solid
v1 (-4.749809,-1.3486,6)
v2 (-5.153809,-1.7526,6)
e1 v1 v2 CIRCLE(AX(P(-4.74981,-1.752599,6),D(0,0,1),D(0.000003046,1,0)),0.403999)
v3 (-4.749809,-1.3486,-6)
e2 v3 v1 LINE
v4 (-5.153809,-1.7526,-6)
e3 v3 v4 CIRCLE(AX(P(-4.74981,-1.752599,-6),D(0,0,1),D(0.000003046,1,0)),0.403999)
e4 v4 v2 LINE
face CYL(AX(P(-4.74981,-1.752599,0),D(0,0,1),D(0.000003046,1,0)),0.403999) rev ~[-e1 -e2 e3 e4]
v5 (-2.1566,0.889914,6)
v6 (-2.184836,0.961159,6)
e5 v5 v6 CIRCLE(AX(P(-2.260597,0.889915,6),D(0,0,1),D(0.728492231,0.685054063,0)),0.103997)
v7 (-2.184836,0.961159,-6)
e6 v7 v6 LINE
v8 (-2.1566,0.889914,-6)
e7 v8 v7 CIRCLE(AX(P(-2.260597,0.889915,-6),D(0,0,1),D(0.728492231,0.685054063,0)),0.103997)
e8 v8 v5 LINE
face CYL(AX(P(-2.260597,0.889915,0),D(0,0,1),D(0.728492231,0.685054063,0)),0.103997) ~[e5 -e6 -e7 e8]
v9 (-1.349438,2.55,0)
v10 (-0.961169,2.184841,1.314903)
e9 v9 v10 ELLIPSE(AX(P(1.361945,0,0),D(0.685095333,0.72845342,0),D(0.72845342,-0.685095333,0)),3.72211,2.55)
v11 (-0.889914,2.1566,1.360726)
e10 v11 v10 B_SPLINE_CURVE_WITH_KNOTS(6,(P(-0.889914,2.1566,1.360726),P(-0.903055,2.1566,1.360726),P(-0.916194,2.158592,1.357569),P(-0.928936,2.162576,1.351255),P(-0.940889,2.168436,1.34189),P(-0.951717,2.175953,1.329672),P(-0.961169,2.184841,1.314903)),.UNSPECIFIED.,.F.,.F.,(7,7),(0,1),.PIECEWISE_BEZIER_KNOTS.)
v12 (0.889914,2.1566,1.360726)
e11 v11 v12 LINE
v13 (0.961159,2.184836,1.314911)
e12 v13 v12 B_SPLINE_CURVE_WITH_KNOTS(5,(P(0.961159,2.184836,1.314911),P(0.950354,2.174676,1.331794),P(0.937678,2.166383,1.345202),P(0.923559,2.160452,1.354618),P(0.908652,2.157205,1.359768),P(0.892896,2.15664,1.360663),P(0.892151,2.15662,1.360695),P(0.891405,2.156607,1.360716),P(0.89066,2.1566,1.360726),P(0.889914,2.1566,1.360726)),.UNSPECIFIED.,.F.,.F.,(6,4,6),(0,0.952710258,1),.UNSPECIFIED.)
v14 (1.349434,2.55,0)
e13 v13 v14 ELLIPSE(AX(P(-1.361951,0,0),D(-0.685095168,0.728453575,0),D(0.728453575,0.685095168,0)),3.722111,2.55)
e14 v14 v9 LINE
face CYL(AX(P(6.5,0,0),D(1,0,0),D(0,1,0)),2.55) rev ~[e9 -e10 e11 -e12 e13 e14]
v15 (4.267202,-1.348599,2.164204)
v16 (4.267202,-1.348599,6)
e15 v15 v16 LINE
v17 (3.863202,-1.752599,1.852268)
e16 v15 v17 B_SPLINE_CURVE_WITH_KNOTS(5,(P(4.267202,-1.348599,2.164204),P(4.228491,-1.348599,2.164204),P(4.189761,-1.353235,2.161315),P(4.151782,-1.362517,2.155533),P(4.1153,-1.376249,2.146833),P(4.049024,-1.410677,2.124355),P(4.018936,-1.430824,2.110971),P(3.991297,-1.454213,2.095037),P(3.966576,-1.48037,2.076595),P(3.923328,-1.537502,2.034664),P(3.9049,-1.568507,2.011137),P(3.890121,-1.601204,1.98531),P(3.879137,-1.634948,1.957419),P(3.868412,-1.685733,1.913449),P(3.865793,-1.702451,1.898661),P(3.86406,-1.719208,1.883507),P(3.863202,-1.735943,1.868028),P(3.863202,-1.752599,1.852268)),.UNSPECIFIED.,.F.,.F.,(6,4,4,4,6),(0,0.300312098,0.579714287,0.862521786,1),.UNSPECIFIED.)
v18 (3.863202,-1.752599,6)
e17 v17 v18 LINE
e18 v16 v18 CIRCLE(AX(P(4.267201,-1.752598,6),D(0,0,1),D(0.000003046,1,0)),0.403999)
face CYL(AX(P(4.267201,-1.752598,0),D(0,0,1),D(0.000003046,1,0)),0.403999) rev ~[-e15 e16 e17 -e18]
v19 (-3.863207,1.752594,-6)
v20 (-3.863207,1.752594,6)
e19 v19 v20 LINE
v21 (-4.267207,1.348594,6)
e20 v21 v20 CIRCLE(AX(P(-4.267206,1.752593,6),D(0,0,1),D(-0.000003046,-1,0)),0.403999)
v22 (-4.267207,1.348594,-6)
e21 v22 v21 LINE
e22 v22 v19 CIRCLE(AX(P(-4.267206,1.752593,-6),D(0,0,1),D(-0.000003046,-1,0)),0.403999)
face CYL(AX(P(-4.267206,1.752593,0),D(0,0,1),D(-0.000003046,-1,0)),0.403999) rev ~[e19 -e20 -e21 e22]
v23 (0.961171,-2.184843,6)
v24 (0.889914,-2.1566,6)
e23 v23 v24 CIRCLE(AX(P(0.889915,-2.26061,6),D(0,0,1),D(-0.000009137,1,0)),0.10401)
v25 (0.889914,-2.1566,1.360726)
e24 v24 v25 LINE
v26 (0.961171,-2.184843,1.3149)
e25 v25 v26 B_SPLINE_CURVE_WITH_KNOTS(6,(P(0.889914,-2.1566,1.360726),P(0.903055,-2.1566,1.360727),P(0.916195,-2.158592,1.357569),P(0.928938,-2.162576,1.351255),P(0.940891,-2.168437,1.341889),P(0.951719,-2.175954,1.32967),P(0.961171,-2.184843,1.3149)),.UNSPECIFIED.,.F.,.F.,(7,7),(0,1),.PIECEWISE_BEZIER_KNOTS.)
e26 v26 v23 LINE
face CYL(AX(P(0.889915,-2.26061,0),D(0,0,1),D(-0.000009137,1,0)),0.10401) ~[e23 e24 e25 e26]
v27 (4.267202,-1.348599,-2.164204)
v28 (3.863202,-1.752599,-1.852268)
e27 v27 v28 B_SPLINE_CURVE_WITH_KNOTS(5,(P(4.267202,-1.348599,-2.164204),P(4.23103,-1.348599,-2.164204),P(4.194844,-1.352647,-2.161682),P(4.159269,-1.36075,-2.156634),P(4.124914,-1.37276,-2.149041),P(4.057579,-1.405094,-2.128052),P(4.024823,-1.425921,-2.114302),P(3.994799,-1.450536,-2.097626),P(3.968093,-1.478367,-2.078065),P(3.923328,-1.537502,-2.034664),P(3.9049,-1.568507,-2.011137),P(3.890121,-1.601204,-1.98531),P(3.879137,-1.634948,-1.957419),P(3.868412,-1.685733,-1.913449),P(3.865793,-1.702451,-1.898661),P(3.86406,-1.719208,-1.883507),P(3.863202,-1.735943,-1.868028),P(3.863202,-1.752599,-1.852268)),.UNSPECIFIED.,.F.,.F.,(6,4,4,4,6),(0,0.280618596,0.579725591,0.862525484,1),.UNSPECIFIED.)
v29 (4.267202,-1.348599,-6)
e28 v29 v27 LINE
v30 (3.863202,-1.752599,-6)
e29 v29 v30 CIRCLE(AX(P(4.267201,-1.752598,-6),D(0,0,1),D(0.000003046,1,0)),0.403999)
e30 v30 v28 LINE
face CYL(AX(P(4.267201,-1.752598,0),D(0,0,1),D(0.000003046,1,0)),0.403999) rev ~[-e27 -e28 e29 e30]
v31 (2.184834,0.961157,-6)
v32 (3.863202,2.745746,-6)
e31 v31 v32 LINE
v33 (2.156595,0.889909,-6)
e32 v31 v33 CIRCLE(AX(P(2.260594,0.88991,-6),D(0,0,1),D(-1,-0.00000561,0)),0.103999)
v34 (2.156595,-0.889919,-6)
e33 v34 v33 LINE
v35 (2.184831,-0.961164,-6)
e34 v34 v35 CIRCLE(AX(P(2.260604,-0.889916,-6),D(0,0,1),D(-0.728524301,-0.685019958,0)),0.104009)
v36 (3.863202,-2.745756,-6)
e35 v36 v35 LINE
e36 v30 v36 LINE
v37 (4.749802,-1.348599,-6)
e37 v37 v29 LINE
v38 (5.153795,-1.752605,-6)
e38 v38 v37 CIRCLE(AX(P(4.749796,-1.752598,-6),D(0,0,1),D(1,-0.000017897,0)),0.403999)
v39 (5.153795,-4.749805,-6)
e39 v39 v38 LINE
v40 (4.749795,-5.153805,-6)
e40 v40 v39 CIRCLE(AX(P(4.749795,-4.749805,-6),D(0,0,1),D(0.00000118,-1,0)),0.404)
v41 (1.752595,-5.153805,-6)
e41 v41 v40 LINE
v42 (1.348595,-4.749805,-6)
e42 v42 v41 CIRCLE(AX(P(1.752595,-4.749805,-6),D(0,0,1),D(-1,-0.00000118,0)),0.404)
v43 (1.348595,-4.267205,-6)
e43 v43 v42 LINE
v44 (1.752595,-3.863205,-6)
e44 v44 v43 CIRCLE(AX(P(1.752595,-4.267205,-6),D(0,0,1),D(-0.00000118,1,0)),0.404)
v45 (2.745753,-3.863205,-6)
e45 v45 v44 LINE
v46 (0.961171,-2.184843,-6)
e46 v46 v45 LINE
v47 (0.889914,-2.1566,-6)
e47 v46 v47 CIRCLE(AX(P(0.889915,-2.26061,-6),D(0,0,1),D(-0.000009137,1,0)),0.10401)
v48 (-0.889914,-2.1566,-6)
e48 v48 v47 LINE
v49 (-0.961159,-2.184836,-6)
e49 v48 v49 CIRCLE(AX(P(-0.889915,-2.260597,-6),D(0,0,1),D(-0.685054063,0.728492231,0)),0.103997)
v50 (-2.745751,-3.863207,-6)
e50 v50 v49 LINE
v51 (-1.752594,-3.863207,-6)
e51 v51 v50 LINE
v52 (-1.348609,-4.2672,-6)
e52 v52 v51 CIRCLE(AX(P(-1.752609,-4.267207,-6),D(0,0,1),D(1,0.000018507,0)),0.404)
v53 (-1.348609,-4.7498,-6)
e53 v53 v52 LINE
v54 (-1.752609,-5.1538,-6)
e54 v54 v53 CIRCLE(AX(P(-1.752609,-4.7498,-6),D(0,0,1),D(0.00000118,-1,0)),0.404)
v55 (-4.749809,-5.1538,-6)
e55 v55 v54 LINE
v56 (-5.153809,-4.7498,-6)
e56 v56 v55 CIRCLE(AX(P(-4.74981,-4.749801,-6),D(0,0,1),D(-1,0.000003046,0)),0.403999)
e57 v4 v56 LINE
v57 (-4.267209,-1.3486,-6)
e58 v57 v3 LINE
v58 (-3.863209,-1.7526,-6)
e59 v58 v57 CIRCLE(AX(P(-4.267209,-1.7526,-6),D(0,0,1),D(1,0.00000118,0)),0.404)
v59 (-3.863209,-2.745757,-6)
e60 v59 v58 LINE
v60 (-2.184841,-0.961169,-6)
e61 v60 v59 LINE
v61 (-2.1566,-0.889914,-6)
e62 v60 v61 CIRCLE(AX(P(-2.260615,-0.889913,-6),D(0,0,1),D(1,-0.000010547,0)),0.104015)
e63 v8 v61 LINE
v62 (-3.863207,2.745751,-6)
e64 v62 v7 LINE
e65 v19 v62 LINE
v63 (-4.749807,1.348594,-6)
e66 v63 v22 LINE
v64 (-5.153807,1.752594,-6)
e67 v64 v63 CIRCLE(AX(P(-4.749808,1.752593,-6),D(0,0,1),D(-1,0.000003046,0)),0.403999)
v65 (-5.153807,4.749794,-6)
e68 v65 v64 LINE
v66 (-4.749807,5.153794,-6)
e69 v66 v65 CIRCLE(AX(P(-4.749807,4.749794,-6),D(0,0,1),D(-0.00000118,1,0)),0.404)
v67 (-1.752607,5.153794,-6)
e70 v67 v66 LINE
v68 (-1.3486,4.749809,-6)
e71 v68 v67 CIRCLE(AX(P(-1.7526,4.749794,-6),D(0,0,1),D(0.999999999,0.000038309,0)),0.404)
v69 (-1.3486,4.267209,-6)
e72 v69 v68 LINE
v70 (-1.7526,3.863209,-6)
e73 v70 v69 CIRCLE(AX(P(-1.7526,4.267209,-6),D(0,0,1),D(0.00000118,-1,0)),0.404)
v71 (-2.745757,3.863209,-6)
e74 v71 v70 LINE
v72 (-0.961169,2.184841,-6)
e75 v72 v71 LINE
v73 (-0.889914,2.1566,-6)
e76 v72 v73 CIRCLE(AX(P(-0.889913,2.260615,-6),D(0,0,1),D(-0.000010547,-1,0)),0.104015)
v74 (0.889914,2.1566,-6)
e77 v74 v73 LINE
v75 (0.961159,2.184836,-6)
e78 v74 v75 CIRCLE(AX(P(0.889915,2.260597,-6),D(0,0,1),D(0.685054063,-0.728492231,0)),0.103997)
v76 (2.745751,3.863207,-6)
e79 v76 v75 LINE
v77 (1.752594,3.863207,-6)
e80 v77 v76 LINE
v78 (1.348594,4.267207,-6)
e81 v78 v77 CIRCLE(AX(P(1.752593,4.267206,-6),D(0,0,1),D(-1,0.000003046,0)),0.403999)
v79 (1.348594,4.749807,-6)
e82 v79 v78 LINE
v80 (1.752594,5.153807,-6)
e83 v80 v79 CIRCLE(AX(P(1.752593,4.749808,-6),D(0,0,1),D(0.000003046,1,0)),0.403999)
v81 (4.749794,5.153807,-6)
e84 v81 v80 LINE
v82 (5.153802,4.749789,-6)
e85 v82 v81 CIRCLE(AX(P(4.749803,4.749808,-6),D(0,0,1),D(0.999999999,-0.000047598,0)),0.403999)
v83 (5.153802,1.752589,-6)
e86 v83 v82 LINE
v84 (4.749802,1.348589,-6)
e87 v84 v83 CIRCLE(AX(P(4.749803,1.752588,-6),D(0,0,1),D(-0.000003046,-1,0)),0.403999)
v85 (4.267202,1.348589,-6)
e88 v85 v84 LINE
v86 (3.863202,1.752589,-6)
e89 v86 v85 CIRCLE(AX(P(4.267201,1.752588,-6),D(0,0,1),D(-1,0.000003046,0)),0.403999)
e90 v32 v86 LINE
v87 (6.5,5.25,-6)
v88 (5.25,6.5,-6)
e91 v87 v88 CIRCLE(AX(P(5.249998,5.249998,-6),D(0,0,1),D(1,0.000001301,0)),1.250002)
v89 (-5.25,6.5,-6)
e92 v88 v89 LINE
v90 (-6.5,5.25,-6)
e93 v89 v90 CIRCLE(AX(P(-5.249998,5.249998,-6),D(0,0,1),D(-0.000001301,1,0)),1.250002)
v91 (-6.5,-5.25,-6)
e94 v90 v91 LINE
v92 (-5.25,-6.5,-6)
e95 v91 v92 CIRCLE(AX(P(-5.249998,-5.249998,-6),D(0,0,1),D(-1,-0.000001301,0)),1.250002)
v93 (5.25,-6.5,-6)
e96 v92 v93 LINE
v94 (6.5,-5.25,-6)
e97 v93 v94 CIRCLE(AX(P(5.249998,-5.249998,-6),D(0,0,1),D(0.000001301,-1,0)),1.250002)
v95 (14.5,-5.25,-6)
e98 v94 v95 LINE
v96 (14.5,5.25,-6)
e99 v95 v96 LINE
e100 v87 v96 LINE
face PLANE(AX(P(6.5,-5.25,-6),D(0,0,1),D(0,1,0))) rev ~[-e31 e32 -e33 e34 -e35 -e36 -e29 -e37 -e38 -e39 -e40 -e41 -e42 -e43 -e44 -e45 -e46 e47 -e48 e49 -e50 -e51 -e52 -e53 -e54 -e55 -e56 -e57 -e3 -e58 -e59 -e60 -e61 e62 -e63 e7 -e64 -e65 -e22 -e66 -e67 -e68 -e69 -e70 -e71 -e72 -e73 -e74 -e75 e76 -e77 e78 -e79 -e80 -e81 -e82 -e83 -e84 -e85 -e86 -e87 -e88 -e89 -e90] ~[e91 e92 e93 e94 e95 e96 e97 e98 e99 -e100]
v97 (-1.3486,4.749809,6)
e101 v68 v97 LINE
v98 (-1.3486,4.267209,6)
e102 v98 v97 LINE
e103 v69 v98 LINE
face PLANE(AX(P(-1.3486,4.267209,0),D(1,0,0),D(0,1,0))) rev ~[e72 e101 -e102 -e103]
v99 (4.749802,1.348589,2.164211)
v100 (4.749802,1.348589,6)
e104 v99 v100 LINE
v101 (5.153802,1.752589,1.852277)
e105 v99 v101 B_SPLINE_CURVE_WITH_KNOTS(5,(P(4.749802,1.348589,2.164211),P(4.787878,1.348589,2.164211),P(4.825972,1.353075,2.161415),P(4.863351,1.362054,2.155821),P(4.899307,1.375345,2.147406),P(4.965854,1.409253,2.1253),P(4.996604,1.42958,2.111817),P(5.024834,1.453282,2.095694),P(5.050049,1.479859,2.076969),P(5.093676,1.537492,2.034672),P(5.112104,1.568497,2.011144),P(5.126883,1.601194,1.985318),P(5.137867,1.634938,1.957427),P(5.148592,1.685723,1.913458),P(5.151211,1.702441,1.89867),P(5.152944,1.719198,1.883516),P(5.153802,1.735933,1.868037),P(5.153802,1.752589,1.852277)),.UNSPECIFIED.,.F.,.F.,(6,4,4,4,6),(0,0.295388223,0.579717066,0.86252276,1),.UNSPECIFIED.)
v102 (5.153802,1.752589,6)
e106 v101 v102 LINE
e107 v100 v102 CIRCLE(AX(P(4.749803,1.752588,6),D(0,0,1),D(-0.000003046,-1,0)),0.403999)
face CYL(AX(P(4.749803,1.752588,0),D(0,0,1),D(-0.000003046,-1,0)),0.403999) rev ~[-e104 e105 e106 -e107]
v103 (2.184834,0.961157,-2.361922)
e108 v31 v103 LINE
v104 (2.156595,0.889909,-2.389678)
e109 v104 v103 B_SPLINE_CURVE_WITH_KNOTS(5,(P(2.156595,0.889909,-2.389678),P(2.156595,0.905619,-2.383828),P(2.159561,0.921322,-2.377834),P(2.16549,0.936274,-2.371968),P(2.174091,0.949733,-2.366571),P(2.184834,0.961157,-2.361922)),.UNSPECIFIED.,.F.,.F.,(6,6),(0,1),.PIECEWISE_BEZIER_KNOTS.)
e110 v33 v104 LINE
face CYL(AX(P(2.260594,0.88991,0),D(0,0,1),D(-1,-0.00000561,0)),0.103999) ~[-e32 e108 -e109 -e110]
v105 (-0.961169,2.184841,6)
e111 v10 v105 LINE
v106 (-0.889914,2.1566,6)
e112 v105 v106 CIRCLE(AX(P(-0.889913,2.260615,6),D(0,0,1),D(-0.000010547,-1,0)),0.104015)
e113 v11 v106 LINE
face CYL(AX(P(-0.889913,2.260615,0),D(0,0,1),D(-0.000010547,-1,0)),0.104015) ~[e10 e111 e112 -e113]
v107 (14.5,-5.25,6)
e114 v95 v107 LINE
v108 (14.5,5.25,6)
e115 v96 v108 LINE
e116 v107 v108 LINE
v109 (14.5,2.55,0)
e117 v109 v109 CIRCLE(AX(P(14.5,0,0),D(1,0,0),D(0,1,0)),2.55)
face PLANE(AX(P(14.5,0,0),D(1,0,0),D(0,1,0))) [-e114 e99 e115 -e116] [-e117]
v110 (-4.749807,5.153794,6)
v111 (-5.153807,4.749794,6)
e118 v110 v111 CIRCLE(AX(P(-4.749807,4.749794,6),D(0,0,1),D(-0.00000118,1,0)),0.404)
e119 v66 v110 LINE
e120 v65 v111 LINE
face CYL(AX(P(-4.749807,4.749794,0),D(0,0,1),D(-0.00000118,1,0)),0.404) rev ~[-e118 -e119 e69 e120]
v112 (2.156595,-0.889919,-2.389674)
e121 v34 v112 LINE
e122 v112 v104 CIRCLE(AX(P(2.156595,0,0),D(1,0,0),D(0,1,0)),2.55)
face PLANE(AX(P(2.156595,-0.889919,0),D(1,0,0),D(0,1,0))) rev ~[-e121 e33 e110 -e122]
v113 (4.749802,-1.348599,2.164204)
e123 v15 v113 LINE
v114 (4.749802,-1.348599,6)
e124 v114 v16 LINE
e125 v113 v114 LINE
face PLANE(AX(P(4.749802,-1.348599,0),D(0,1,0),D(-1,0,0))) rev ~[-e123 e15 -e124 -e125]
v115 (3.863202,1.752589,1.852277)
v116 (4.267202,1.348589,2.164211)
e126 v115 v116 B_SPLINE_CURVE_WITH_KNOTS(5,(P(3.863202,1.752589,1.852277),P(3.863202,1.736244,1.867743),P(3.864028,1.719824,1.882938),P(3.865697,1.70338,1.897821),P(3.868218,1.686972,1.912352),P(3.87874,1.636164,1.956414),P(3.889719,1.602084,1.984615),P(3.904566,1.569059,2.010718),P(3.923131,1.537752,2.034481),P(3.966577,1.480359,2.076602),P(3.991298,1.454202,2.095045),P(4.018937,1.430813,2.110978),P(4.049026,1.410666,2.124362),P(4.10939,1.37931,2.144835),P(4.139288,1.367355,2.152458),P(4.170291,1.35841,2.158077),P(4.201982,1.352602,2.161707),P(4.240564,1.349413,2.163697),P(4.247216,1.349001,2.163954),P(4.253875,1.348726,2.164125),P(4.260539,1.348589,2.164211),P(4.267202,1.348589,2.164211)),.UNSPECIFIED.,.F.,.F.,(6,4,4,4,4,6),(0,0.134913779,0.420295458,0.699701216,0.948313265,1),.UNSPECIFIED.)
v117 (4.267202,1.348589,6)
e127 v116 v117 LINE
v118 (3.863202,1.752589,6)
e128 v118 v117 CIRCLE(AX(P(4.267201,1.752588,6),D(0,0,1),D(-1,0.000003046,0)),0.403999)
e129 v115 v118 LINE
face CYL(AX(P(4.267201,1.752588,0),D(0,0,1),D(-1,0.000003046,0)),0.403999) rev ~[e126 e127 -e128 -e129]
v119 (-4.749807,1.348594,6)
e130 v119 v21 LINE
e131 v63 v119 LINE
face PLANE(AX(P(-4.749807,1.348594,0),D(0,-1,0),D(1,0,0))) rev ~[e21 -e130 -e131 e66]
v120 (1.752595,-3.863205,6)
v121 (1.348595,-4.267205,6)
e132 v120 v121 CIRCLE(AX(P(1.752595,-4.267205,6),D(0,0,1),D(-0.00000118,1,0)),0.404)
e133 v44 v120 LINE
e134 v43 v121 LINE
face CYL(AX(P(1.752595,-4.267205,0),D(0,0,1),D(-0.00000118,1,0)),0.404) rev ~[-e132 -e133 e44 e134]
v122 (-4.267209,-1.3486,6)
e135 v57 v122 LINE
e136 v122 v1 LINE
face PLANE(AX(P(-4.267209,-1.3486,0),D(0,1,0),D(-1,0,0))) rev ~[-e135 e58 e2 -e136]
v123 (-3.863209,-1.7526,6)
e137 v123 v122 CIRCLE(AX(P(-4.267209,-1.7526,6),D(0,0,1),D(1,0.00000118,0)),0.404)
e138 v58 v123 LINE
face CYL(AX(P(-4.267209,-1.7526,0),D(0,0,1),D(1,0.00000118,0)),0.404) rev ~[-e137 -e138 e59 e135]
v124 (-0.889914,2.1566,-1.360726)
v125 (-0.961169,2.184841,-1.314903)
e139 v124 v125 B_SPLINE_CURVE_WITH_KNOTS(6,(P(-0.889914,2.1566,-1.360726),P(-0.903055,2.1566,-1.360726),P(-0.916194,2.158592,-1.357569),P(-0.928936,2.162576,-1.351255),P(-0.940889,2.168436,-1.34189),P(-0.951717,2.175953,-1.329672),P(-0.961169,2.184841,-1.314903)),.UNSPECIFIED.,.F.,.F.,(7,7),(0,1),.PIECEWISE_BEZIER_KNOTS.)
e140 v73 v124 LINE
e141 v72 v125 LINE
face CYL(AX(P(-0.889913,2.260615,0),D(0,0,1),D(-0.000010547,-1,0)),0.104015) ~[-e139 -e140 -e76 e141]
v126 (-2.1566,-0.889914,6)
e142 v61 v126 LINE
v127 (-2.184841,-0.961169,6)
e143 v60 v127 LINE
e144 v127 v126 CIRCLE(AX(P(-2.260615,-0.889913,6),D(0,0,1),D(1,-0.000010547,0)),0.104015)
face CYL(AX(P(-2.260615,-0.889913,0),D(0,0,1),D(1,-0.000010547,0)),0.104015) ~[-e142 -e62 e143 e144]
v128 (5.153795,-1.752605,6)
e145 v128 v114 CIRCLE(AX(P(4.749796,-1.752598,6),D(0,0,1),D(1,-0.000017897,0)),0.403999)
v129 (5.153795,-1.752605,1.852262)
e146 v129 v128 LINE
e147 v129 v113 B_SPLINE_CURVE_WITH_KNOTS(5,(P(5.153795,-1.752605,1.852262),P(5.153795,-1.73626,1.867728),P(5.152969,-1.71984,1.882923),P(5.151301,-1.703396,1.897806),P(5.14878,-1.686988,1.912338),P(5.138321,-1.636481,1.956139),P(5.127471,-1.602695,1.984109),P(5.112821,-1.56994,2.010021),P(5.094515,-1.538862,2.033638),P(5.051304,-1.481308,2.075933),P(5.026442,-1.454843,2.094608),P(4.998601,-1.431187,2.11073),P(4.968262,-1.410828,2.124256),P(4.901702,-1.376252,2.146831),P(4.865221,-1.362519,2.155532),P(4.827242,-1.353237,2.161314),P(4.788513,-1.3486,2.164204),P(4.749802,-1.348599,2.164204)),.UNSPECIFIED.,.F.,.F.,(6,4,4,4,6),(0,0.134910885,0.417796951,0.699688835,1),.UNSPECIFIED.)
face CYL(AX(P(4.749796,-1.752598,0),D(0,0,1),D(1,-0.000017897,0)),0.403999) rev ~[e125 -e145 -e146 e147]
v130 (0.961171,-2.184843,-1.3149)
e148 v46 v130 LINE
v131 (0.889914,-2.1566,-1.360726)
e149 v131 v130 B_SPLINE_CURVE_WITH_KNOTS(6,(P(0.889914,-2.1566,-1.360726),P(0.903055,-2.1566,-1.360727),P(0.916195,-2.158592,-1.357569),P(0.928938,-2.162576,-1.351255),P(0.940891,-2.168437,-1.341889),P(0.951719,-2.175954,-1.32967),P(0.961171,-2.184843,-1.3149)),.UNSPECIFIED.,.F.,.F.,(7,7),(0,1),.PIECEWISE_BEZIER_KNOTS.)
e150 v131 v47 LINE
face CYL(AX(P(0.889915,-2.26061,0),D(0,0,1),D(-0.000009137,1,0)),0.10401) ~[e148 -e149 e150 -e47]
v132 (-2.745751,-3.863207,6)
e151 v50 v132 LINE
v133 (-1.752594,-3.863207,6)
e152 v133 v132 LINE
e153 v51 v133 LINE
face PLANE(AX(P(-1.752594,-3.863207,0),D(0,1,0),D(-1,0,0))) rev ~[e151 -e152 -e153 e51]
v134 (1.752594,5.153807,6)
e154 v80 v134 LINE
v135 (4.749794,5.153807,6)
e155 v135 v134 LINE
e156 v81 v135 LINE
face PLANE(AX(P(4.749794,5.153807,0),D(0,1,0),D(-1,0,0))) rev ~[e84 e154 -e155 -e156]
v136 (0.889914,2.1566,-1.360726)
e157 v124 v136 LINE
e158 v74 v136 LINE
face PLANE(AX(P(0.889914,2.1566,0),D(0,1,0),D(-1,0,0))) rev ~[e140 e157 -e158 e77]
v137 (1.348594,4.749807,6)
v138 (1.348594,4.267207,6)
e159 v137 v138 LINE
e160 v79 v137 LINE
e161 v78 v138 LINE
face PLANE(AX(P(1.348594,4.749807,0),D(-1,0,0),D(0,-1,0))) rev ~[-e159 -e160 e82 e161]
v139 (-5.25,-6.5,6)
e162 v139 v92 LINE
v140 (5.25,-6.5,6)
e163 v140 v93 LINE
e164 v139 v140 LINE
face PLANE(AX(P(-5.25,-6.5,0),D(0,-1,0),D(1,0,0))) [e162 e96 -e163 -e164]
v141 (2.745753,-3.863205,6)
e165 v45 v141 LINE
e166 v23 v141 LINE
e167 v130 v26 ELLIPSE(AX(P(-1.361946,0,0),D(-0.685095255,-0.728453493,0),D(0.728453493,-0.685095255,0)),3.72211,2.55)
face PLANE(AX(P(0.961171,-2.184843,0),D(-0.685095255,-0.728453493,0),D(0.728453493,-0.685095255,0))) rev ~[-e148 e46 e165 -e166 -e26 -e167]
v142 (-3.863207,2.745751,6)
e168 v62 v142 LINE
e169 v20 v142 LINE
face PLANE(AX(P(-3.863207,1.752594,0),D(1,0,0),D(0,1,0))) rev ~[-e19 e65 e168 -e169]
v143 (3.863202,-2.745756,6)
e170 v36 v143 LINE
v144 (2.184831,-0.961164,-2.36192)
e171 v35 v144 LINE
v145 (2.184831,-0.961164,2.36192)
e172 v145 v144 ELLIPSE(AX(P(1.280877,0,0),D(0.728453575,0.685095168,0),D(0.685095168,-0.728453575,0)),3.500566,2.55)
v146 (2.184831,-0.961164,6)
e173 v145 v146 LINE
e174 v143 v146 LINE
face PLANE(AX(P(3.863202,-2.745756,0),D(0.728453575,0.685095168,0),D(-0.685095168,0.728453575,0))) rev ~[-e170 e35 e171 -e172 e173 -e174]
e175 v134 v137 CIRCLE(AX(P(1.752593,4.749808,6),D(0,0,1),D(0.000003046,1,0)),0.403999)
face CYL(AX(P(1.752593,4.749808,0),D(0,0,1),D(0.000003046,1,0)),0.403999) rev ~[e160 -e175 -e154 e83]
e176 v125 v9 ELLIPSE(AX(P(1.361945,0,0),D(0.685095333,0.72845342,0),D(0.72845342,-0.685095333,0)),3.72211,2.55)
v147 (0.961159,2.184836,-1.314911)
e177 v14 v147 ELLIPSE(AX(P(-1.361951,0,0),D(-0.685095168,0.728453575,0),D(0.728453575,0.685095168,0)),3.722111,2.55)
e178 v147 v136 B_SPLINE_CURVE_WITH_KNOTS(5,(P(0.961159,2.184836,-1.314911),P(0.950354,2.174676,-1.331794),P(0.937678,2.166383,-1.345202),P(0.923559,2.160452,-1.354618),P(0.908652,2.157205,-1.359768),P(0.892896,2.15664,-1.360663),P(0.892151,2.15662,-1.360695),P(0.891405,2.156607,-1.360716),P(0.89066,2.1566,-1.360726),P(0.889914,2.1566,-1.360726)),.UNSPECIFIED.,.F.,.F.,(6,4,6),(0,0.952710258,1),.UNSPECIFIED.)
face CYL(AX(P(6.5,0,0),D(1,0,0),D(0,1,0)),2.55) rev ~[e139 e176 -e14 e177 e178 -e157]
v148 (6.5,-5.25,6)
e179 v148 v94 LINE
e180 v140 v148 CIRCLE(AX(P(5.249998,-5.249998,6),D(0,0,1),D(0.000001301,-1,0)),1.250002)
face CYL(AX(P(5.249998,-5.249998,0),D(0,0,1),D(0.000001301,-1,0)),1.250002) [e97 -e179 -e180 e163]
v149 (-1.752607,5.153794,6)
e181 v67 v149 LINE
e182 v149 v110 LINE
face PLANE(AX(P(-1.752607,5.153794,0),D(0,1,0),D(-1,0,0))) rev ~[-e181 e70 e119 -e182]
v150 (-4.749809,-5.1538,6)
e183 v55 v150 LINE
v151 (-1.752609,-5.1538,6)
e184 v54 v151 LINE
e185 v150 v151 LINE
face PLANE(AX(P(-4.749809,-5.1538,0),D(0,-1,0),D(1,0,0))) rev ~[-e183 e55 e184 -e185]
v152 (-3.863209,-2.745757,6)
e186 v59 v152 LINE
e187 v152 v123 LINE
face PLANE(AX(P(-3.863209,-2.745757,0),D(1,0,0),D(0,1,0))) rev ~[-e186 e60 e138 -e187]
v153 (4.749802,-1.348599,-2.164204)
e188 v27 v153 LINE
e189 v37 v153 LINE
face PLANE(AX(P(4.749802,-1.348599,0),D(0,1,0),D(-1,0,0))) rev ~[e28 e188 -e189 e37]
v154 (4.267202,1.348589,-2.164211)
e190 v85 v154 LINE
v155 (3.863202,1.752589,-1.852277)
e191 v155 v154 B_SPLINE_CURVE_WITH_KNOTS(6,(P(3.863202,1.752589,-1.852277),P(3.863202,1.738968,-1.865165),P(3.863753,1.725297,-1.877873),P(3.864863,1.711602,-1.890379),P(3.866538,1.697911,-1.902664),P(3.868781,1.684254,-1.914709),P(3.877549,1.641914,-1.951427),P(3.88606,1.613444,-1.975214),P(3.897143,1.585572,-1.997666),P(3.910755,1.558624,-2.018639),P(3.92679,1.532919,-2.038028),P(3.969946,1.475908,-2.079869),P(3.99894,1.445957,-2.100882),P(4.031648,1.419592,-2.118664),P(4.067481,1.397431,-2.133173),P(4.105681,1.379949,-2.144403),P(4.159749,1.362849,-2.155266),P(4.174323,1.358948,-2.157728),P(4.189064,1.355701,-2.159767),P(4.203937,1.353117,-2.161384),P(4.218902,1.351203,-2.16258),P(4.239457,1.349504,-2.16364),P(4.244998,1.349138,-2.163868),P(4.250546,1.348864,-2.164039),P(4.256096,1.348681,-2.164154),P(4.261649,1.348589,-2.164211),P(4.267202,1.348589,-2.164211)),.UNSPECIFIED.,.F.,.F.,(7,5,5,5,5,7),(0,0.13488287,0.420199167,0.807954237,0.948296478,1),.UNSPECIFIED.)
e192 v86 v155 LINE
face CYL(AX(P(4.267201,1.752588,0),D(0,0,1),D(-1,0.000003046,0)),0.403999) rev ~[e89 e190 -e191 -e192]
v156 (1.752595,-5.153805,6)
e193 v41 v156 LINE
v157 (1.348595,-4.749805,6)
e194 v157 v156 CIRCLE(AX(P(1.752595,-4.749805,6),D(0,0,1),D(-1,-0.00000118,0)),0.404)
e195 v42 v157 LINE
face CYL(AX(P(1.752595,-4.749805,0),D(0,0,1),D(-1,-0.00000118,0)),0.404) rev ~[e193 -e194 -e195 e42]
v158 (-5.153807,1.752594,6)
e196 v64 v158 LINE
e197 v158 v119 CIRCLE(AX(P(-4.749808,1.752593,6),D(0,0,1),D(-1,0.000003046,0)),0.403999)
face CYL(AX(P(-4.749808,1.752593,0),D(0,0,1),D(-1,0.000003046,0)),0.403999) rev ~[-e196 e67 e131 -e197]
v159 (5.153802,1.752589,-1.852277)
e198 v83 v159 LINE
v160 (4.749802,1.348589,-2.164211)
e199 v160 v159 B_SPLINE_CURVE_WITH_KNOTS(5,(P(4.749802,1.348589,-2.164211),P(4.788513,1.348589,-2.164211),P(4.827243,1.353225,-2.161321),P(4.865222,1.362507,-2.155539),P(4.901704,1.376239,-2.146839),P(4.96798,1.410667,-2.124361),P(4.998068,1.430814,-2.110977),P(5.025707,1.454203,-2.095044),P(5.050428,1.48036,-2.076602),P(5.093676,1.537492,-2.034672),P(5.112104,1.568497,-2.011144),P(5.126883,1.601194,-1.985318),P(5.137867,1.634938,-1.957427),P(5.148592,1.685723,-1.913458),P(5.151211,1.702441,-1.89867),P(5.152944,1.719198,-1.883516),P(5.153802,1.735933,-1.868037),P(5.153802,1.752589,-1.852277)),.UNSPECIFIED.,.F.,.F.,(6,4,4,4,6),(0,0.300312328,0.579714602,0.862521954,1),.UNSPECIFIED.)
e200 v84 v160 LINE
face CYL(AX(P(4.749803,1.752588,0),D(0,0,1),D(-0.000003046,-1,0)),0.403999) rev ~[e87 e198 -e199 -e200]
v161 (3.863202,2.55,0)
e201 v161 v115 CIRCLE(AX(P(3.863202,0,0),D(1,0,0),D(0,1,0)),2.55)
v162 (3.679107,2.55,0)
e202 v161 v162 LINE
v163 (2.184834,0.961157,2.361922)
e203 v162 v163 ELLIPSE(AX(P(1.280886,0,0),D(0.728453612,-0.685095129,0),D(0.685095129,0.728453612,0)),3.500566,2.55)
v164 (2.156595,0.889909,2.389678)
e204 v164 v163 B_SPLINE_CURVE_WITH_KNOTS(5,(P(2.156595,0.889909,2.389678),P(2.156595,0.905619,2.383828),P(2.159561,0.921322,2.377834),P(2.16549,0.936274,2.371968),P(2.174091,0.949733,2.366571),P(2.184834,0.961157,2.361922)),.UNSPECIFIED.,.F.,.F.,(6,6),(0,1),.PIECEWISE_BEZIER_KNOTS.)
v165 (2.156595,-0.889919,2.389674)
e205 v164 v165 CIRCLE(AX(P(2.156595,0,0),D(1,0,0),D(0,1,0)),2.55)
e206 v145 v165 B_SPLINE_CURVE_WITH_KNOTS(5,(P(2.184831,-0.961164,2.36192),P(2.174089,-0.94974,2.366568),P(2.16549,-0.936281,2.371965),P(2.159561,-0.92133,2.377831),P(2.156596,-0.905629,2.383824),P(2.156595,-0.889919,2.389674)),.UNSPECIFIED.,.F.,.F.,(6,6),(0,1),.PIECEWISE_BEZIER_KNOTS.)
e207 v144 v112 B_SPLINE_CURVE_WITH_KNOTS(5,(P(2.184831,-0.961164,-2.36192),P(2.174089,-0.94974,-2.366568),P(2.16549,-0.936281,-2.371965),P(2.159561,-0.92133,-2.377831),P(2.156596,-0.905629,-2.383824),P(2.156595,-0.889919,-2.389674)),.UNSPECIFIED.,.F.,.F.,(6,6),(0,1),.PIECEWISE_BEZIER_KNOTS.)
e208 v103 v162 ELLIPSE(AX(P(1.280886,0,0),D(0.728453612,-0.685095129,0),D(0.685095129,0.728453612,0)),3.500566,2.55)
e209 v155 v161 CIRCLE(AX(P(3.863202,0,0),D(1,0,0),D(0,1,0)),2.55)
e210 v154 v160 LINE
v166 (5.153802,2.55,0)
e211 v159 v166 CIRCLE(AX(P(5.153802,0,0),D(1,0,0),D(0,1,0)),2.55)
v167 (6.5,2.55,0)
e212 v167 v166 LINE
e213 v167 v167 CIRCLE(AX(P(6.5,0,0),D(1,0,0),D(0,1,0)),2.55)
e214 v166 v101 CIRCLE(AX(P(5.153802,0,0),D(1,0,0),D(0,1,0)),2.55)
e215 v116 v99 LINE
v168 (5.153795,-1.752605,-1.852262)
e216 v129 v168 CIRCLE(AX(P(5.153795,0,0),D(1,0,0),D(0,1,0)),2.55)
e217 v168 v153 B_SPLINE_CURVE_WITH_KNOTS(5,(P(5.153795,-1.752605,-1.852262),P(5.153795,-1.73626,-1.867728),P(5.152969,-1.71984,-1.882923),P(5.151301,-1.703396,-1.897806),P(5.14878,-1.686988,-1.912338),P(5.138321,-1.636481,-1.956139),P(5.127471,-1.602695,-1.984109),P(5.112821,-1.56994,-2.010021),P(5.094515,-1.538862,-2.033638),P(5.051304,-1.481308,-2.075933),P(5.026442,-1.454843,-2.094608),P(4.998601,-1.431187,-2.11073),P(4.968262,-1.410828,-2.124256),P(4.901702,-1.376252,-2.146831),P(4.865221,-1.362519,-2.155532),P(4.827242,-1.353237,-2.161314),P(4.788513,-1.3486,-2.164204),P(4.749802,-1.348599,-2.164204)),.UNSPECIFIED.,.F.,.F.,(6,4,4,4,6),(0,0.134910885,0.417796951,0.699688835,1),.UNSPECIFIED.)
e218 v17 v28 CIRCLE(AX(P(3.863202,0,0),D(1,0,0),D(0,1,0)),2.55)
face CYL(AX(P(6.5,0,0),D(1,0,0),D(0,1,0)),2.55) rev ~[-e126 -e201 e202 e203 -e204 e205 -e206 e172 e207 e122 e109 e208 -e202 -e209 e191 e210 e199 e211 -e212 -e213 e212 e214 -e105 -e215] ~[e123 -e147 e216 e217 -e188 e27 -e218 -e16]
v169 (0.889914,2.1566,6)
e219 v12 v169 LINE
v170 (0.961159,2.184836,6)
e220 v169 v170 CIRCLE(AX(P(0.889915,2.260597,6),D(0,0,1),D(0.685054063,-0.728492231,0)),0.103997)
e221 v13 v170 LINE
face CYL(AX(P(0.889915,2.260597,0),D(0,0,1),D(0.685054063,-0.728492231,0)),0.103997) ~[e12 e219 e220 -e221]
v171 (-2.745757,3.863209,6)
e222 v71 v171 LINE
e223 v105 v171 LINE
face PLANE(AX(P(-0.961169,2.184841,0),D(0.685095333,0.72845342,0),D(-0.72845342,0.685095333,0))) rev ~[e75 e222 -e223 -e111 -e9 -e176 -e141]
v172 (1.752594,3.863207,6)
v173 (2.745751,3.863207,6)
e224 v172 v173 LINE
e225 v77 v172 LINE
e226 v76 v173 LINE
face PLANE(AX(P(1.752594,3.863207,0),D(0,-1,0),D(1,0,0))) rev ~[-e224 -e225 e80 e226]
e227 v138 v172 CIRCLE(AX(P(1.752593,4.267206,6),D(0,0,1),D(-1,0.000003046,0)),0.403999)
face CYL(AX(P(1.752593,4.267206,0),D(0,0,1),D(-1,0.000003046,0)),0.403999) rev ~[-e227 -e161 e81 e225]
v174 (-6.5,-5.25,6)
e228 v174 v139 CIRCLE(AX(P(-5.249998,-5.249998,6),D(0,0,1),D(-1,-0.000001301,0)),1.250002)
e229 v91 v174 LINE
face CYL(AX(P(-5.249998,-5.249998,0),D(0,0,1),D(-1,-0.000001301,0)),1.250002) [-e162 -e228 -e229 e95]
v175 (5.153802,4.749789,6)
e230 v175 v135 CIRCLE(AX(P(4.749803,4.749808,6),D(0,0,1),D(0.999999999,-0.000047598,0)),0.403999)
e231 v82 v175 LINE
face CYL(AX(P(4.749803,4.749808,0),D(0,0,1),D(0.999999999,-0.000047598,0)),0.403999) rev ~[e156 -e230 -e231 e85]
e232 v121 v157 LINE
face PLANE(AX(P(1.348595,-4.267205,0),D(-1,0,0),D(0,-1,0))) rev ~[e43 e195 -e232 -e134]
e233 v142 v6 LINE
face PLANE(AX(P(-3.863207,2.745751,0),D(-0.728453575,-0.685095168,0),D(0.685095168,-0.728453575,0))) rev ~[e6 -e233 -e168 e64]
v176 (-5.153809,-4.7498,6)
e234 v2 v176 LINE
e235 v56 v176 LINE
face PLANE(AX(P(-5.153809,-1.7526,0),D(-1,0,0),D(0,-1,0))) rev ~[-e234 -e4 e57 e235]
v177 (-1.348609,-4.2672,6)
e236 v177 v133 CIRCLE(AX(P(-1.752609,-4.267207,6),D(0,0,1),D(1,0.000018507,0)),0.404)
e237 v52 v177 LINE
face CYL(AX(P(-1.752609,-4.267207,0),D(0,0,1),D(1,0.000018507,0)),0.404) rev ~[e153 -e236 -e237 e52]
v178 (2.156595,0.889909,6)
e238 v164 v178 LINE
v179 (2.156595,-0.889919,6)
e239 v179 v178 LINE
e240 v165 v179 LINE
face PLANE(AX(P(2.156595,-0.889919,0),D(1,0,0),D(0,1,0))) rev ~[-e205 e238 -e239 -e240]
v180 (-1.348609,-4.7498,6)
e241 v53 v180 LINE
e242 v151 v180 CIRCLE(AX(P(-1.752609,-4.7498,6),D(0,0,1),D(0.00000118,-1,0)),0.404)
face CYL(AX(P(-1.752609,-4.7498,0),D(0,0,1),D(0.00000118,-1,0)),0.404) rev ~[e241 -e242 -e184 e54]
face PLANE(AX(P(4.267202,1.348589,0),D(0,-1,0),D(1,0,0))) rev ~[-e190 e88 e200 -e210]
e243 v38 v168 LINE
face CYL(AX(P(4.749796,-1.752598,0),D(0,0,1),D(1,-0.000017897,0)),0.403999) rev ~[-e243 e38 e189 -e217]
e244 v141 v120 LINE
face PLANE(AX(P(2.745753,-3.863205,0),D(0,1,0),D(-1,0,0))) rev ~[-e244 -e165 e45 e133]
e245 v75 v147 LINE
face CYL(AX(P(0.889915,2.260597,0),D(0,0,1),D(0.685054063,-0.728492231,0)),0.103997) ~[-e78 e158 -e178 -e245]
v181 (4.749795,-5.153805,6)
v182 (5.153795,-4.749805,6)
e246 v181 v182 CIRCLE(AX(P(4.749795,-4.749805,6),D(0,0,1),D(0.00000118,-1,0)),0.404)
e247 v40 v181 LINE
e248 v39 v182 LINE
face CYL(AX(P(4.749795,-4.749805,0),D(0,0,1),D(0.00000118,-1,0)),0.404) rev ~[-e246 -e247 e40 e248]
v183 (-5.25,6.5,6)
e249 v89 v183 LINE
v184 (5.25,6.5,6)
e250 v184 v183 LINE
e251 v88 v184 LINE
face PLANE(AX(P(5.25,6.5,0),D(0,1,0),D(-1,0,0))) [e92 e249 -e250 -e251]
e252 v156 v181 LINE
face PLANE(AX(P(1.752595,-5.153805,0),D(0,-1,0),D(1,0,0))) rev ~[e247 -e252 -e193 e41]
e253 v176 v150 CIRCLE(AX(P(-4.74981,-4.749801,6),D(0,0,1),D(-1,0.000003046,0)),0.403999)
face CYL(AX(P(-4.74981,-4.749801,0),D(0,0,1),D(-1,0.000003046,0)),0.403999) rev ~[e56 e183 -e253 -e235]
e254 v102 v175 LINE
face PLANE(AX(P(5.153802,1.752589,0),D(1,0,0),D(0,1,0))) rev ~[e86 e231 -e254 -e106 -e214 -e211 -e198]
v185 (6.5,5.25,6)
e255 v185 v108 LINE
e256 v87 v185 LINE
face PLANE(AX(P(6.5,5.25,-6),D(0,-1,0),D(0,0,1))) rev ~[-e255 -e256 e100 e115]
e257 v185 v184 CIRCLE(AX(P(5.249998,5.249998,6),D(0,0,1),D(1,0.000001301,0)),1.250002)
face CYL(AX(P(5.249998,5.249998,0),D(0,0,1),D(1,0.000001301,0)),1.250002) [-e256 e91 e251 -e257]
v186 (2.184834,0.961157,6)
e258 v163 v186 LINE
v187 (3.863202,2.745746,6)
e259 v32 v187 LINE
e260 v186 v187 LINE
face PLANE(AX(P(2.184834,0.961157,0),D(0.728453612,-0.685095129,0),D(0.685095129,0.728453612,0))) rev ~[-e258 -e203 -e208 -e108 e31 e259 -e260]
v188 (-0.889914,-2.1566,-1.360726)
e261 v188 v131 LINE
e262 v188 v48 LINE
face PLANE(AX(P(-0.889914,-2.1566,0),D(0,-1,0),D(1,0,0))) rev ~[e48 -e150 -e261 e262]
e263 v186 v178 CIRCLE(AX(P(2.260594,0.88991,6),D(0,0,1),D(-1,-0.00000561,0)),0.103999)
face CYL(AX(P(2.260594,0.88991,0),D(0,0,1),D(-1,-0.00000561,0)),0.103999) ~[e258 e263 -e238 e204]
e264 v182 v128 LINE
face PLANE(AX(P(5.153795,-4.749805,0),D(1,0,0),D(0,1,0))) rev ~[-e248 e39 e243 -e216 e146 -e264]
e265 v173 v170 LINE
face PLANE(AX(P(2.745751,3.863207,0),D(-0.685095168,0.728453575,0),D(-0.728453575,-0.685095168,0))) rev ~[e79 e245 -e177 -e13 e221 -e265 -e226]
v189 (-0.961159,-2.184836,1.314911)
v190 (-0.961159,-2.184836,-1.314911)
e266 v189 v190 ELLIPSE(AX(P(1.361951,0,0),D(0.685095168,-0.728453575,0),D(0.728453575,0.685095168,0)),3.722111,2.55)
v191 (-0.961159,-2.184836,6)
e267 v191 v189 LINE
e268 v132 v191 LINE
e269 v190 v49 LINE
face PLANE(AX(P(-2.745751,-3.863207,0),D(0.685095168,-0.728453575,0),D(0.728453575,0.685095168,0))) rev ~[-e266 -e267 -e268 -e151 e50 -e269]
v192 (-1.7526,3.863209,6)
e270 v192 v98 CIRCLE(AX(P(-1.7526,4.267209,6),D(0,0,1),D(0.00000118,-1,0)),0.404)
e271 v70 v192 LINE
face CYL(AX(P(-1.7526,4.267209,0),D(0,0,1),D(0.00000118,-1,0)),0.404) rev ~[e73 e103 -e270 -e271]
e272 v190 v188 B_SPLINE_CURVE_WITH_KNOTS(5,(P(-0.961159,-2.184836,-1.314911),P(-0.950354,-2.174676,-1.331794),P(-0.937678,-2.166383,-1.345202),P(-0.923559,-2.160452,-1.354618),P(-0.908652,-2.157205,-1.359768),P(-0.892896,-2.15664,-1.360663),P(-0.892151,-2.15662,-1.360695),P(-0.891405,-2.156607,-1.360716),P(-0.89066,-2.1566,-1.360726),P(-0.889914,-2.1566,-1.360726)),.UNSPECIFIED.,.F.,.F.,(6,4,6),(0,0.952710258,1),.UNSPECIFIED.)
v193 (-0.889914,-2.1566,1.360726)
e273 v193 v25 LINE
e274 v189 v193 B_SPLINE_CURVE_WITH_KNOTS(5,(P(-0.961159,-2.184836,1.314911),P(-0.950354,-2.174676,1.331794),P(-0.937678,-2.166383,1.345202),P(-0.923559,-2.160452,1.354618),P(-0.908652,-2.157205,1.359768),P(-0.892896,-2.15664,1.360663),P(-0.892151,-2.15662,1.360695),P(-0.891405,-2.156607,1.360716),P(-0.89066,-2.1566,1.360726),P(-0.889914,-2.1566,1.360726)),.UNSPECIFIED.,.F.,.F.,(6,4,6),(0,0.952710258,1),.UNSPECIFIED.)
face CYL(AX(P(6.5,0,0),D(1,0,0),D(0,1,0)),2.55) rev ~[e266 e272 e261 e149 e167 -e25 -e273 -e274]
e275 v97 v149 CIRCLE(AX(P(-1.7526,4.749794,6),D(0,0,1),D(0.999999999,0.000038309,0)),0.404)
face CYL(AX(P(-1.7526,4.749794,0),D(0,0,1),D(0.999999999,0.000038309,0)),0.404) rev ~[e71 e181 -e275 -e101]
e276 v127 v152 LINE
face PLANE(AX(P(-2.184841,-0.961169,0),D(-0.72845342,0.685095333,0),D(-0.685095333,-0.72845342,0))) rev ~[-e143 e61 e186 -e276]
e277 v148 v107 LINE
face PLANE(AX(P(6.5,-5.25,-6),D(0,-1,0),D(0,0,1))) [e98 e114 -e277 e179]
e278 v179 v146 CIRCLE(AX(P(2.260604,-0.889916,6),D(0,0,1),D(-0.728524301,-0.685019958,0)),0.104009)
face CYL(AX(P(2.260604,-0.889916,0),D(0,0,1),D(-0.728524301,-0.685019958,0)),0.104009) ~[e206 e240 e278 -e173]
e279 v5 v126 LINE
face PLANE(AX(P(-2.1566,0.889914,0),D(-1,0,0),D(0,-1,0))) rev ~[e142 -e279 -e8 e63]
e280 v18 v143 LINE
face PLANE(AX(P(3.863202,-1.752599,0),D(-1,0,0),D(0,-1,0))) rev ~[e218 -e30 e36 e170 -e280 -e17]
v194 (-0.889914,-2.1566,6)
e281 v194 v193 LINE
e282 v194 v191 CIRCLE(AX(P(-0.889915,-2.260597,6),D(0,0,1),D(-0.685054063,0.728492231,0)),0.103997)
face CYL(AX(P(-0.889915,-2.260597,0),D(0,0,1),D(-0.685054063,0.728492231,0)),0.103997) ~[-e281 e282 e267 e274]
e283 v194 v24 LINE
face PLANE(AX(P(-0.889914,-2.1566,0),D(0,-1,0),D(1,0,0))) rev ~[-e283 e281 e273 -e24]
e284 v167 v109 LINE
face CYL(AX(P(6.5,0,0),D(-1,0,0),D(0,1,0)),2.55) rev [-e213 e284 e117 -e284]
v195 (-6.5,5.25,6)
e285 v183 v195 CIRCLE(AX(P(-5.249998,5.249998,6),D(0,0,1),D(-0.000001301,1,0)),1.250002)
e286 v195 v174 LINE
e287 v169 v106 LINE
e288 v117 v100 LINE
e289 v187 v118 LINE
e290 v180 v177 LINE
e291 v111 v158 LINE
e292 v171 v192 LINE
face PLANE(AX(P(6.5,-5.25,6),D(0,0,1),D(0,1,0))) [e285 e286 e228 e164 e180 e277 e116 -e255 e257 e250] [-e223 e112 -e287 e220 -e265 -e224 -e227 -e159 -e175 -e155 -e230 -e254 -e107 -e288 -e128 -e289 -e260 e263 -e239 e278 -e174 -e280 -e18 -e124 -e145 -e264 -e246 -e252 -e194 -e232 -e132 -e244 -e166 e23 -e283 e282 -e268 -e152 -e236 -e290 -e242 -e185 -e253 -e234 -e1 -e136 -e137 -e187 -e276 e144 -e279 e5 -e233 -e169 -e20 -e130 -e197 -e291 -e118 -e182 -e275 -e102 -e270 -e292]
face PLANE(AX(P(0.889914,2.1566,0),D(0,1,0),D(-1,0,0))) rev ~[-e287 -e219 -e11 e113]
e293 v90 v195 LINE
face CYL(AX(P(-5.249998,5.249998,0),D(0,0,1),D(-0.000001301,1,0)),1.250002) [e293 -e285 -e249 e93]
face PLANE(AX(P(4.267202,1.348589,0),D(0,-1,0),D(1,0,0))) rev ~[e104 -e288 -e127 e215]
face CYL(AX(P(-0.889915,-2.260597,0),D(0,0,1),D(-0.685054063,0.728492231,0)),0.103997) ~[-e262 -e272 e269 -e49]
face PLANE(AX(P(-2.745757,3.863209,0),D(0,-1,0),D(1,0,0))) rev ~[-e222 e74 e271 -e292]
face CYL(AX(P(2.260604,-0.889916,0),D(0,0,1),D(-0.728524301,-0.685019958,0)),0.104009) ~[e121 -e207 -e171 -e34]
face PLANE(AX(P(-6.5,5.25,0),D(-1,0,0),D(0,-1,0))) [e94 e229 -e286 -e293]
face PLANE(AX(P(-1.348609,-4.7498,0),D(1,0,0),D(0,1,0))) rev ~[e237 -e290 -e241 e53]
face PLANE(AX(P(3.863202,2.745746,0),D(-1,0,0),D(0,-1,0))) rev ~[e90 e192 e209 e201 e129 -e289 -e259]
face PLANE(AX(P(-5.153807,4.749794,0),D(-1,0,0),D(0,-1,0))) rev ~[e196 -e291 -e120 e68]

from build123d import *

# Parameters (mm, degrees)
F1_DEPTH  = 6
F3_DEPTH  = 10
F4_W      = 10.5
F4_H      = 12
F4_R      = 2.55
F5_DEPTH  = 8
F1_FACE_R = 2.55
F6_DEPTH  = 8.6566


with BuildPart() as f1:
    # F0 (on Top) → F1 (new body, symmetric)
    with BuildSketch(Plane.XY):
        with BuildLine():
            Line((6.5, -5.25), (6.5, 5.25))
            ThreePointArc((6.5, 5.25), (6.133883, 6.133883), (5.25, 6.5))
            Line((5.25, 6.5), (-5.25, 6.5))
            ThreePointArc((-5.25, 6.5), (-6.133883, 6.133883), (-6.5, 5.25))
            Line((-6.5, 5.25), (-6.5, -5.25))
            ThreePointArc((-6.5, -5.25), (-6.133883, -6.133883), (-5.25, -6.5))
            Line((-5.25, -6.5), (5.25, -6.5))
            ThreePointArc((5.25, -6.5), (6.133883, -6.133883), (6.5, -5.25))
        make_face()
    extrude(amount=F1_DEPTH, both=True)

    # F2 (on Top) → F3 (cut, symmetric)
    with BuildSketch(Plane.XY):
        with BuildLine():
            ThreePointArc((0.889914, -2.1566), (0.928239, -2.163918), (0.961171, -2.184843))
            Line((0.961171, -2.184843), (2.745753, -3.863205))
            Line((2.745753, -3.863205), (1.752595, -3.863205))
            ThreePointArc((1.752595, -3.863205), (1.466924, -3.981534), (1.348595, -4.267205))
            Line((1.348595, -4.267205), (1.348595, -4.749805))
            ThreePointArc((1.348595, -4.749805), (1.466924, -5.035476), (1.752595, -5.153805))
            Line((1.752595, -5.153805), (4.749795, -5.153805))
            ThreePointArc((4.749795, -5.153805), (5.035466, -5.035476), (5.153795, -4.749805))
            Line((5.153795, -4.749805), (5.153795, -1.752605))
            ThreePointArc((5.153795, -1.752605), (5.035471, -1.466932), (4.749802, -1.348599))
            Line((4.749802, -1.348599), (4.267202, -1.348599))
            ThreePointArc((4.267202, -1.348599), (3.981531, -1.466927), (3.863202, -1.752599))
            Line((3.863202, -1.752599), (3.863202, -2.745756))
            Line((3.863202, -2.745756), (2.184831, -0.961164))
            ThreePointArc((2.184831, -0.961164), (2.163912, -0.928237), (2.156595, -0.889919))
            Line((2.156595, -0.889919), (2.156595, 0.889909))
            ThreePointArc((2.156595, 0.889909), (2.163912, 0.928229), (2.184834, 0.961157))
            Line((2.184834, 0.961157), (3.863202, 2.745746))
            Line((3.863202, 2.745746), (3.863202, 1.752589))
            ThreePointArc((3.863202, 1.752589), (3.981531, 1.466917), (4.267202, 1.348589))
            Line((4.267202, 1.348589), (4.749802, 1.348589))
            ThreePointArc((4.749802, 1.348589), (5.035473, 1.466917), (5.153802, 1.752589))
            Line((5.153802, 1.752589), (5.153802, 4.749789))
            ThreePointArc((5.153802, 4.749789), (5.035477, 5.035475), (4.749794, 5.153807))
            Line((4.749794, 5.153807), (1.752594, 5.153807))
            ThreePointArc((1.752594, 5.153807), (1.466922, 5.035478), (1.348594, 4.749807))
            Line((1.348594, 4.749807), (1.348594, 4.267207))
            ThreePointArc((1.348594, 4.267207), (1.466922, 3.981536), (1.752594, 3.863207))
            Line((1.752594, 3.863207), (2.745751, 3.863207))
            Line((2.745751, 3.863207), (0.961159, 2.184836))
            ThreePointArc((0.961159, 2.184836), (0.928232, 2.163916), (0.889914, 2.1566))
            Line((0.889914, 2.1566), (-0.889914, 2.1566))
            ThreePointArc((-0.889914, 2.1566), (-0.928238, 2.163918), (-0.961169, 2.184841))
            Line((-0.961169, 2.184841), (-2.745757, 3.863209))
            Line((-2.745757, 3.863209), (-1.7526, 3.863209))
            ThreePointArc((-1.7526, 3.863209), (-1.466929, 3.981538), (-1.3486, 4.267209))
            Line((-1.3486, 4.267209), (-1.3486, 4.749809))
            ThreePointArc((-1.3486, 4.749809), (-1.466937, 5.035473), (-1.752607, 5.153794))
            Line((-1.752607, 5.153794), (-4.749807, 5.153794))
            ThreePointArc((-4.749807, 5.153794), (-5.035478, 5.035465), (-5.153807, 4.749794))
            Line((-5.153807, 4.749794), (-5.153807, 1.752594))
            ThreePointArc((-5.153807, 1.752594), (-5.035478, 1.466922), (-4.749807, 1.348594))
            Line((-4.749807, 1.348594), (-4.267207, 1.348594))
            ThreePointArc((-4.267207, 1.348594), (-3.981536, 1.466922), (-3.863207, 1.752594))
            Line((-3.863207, 1.752594), (-3.863207, 2.745751))
            Line((-3.863207, 2.745751), (-2.184836, 0.961159))
            ThreePointArc((-2.184836, 0.961159), (-2.163916, 0.928232), (-2.1566, 0.889914))
            Line((-2.1566, 0.889914), (-2.1566, -0.889914))
            ThreePointArc((-2.1566, -0.889914), (-2.163918, -0.928238), (-2.184841, -0.961169))
            Line((-2.184841, -0.961169), (-3.863209, -2.745757))
            Line((-3.863209, -2.745757), (-3.863209, -1.7526))
            ThreePointArc((-3.863209, -1.7526), (-3.981538, -1.466929), (-4.267209, -1.3486))
            Line((-4.267209, -1.3486), (-4.749809, -1.3486))
            ThreePointArc((-4.749809, -1.3486), (-5.035481, -1.466929), (-5.153809, -1.7526))
            Line((-5.153809, -1.7526), (-5.153809, -4.7498))
            ThreePointArc((-5.153809, -4.7498), (-5.035481, -5.035471), (-4.749809, -5.1538))
            Line((-4.749809, -5.1538), (-1.752609, -5.1538))
            ThreePointArc((-1.752609, -5.1538), (-1.466938, -5.035471), (-1.348609, -4.7498))
            Line((-1.348609, -4.7498), (-1.348609, -4.2672))
            ThreePointArc((-1.348609, -4.2672), (-1.466935, -3.981539), (-1.752594, -3.863207))
            Line((-1.752594, -3.863207), (-2.745751, -3.863207))
            Line((-2.745751, -3.863207), (-0.961159, -2.184836))
            ThreePointArc((-0.961159, -2.184836), (-0.928232, -2.163916), (-0.889914, -2.1566))
            Line((-0.889914, -2.1566), (0.889914, -2.1566))
        make_face()
    extrude(amount=F3_DEPTH, both=True, mode=Mode.SUBTRACT)

    # F4 (on face) → F5 (join)
    with BuildSketch(Plane.YZ.offset(6.5)):
        Rectangle(F4_W, F4_H)
        Circle(F4_R, mode=Mode.SUBTRACT)
    extrude(amount=F5_DEPTH)

    # F1_face (on face) → F6 (cut, through all)
    with BuildSketch(Plane.YZ.offset(6.5)):
        Circle(F1_FACE_R)
    extrude(amount=-F6_DEPTH, mode=Mode.SUBTRACT)


solid = f1.part
